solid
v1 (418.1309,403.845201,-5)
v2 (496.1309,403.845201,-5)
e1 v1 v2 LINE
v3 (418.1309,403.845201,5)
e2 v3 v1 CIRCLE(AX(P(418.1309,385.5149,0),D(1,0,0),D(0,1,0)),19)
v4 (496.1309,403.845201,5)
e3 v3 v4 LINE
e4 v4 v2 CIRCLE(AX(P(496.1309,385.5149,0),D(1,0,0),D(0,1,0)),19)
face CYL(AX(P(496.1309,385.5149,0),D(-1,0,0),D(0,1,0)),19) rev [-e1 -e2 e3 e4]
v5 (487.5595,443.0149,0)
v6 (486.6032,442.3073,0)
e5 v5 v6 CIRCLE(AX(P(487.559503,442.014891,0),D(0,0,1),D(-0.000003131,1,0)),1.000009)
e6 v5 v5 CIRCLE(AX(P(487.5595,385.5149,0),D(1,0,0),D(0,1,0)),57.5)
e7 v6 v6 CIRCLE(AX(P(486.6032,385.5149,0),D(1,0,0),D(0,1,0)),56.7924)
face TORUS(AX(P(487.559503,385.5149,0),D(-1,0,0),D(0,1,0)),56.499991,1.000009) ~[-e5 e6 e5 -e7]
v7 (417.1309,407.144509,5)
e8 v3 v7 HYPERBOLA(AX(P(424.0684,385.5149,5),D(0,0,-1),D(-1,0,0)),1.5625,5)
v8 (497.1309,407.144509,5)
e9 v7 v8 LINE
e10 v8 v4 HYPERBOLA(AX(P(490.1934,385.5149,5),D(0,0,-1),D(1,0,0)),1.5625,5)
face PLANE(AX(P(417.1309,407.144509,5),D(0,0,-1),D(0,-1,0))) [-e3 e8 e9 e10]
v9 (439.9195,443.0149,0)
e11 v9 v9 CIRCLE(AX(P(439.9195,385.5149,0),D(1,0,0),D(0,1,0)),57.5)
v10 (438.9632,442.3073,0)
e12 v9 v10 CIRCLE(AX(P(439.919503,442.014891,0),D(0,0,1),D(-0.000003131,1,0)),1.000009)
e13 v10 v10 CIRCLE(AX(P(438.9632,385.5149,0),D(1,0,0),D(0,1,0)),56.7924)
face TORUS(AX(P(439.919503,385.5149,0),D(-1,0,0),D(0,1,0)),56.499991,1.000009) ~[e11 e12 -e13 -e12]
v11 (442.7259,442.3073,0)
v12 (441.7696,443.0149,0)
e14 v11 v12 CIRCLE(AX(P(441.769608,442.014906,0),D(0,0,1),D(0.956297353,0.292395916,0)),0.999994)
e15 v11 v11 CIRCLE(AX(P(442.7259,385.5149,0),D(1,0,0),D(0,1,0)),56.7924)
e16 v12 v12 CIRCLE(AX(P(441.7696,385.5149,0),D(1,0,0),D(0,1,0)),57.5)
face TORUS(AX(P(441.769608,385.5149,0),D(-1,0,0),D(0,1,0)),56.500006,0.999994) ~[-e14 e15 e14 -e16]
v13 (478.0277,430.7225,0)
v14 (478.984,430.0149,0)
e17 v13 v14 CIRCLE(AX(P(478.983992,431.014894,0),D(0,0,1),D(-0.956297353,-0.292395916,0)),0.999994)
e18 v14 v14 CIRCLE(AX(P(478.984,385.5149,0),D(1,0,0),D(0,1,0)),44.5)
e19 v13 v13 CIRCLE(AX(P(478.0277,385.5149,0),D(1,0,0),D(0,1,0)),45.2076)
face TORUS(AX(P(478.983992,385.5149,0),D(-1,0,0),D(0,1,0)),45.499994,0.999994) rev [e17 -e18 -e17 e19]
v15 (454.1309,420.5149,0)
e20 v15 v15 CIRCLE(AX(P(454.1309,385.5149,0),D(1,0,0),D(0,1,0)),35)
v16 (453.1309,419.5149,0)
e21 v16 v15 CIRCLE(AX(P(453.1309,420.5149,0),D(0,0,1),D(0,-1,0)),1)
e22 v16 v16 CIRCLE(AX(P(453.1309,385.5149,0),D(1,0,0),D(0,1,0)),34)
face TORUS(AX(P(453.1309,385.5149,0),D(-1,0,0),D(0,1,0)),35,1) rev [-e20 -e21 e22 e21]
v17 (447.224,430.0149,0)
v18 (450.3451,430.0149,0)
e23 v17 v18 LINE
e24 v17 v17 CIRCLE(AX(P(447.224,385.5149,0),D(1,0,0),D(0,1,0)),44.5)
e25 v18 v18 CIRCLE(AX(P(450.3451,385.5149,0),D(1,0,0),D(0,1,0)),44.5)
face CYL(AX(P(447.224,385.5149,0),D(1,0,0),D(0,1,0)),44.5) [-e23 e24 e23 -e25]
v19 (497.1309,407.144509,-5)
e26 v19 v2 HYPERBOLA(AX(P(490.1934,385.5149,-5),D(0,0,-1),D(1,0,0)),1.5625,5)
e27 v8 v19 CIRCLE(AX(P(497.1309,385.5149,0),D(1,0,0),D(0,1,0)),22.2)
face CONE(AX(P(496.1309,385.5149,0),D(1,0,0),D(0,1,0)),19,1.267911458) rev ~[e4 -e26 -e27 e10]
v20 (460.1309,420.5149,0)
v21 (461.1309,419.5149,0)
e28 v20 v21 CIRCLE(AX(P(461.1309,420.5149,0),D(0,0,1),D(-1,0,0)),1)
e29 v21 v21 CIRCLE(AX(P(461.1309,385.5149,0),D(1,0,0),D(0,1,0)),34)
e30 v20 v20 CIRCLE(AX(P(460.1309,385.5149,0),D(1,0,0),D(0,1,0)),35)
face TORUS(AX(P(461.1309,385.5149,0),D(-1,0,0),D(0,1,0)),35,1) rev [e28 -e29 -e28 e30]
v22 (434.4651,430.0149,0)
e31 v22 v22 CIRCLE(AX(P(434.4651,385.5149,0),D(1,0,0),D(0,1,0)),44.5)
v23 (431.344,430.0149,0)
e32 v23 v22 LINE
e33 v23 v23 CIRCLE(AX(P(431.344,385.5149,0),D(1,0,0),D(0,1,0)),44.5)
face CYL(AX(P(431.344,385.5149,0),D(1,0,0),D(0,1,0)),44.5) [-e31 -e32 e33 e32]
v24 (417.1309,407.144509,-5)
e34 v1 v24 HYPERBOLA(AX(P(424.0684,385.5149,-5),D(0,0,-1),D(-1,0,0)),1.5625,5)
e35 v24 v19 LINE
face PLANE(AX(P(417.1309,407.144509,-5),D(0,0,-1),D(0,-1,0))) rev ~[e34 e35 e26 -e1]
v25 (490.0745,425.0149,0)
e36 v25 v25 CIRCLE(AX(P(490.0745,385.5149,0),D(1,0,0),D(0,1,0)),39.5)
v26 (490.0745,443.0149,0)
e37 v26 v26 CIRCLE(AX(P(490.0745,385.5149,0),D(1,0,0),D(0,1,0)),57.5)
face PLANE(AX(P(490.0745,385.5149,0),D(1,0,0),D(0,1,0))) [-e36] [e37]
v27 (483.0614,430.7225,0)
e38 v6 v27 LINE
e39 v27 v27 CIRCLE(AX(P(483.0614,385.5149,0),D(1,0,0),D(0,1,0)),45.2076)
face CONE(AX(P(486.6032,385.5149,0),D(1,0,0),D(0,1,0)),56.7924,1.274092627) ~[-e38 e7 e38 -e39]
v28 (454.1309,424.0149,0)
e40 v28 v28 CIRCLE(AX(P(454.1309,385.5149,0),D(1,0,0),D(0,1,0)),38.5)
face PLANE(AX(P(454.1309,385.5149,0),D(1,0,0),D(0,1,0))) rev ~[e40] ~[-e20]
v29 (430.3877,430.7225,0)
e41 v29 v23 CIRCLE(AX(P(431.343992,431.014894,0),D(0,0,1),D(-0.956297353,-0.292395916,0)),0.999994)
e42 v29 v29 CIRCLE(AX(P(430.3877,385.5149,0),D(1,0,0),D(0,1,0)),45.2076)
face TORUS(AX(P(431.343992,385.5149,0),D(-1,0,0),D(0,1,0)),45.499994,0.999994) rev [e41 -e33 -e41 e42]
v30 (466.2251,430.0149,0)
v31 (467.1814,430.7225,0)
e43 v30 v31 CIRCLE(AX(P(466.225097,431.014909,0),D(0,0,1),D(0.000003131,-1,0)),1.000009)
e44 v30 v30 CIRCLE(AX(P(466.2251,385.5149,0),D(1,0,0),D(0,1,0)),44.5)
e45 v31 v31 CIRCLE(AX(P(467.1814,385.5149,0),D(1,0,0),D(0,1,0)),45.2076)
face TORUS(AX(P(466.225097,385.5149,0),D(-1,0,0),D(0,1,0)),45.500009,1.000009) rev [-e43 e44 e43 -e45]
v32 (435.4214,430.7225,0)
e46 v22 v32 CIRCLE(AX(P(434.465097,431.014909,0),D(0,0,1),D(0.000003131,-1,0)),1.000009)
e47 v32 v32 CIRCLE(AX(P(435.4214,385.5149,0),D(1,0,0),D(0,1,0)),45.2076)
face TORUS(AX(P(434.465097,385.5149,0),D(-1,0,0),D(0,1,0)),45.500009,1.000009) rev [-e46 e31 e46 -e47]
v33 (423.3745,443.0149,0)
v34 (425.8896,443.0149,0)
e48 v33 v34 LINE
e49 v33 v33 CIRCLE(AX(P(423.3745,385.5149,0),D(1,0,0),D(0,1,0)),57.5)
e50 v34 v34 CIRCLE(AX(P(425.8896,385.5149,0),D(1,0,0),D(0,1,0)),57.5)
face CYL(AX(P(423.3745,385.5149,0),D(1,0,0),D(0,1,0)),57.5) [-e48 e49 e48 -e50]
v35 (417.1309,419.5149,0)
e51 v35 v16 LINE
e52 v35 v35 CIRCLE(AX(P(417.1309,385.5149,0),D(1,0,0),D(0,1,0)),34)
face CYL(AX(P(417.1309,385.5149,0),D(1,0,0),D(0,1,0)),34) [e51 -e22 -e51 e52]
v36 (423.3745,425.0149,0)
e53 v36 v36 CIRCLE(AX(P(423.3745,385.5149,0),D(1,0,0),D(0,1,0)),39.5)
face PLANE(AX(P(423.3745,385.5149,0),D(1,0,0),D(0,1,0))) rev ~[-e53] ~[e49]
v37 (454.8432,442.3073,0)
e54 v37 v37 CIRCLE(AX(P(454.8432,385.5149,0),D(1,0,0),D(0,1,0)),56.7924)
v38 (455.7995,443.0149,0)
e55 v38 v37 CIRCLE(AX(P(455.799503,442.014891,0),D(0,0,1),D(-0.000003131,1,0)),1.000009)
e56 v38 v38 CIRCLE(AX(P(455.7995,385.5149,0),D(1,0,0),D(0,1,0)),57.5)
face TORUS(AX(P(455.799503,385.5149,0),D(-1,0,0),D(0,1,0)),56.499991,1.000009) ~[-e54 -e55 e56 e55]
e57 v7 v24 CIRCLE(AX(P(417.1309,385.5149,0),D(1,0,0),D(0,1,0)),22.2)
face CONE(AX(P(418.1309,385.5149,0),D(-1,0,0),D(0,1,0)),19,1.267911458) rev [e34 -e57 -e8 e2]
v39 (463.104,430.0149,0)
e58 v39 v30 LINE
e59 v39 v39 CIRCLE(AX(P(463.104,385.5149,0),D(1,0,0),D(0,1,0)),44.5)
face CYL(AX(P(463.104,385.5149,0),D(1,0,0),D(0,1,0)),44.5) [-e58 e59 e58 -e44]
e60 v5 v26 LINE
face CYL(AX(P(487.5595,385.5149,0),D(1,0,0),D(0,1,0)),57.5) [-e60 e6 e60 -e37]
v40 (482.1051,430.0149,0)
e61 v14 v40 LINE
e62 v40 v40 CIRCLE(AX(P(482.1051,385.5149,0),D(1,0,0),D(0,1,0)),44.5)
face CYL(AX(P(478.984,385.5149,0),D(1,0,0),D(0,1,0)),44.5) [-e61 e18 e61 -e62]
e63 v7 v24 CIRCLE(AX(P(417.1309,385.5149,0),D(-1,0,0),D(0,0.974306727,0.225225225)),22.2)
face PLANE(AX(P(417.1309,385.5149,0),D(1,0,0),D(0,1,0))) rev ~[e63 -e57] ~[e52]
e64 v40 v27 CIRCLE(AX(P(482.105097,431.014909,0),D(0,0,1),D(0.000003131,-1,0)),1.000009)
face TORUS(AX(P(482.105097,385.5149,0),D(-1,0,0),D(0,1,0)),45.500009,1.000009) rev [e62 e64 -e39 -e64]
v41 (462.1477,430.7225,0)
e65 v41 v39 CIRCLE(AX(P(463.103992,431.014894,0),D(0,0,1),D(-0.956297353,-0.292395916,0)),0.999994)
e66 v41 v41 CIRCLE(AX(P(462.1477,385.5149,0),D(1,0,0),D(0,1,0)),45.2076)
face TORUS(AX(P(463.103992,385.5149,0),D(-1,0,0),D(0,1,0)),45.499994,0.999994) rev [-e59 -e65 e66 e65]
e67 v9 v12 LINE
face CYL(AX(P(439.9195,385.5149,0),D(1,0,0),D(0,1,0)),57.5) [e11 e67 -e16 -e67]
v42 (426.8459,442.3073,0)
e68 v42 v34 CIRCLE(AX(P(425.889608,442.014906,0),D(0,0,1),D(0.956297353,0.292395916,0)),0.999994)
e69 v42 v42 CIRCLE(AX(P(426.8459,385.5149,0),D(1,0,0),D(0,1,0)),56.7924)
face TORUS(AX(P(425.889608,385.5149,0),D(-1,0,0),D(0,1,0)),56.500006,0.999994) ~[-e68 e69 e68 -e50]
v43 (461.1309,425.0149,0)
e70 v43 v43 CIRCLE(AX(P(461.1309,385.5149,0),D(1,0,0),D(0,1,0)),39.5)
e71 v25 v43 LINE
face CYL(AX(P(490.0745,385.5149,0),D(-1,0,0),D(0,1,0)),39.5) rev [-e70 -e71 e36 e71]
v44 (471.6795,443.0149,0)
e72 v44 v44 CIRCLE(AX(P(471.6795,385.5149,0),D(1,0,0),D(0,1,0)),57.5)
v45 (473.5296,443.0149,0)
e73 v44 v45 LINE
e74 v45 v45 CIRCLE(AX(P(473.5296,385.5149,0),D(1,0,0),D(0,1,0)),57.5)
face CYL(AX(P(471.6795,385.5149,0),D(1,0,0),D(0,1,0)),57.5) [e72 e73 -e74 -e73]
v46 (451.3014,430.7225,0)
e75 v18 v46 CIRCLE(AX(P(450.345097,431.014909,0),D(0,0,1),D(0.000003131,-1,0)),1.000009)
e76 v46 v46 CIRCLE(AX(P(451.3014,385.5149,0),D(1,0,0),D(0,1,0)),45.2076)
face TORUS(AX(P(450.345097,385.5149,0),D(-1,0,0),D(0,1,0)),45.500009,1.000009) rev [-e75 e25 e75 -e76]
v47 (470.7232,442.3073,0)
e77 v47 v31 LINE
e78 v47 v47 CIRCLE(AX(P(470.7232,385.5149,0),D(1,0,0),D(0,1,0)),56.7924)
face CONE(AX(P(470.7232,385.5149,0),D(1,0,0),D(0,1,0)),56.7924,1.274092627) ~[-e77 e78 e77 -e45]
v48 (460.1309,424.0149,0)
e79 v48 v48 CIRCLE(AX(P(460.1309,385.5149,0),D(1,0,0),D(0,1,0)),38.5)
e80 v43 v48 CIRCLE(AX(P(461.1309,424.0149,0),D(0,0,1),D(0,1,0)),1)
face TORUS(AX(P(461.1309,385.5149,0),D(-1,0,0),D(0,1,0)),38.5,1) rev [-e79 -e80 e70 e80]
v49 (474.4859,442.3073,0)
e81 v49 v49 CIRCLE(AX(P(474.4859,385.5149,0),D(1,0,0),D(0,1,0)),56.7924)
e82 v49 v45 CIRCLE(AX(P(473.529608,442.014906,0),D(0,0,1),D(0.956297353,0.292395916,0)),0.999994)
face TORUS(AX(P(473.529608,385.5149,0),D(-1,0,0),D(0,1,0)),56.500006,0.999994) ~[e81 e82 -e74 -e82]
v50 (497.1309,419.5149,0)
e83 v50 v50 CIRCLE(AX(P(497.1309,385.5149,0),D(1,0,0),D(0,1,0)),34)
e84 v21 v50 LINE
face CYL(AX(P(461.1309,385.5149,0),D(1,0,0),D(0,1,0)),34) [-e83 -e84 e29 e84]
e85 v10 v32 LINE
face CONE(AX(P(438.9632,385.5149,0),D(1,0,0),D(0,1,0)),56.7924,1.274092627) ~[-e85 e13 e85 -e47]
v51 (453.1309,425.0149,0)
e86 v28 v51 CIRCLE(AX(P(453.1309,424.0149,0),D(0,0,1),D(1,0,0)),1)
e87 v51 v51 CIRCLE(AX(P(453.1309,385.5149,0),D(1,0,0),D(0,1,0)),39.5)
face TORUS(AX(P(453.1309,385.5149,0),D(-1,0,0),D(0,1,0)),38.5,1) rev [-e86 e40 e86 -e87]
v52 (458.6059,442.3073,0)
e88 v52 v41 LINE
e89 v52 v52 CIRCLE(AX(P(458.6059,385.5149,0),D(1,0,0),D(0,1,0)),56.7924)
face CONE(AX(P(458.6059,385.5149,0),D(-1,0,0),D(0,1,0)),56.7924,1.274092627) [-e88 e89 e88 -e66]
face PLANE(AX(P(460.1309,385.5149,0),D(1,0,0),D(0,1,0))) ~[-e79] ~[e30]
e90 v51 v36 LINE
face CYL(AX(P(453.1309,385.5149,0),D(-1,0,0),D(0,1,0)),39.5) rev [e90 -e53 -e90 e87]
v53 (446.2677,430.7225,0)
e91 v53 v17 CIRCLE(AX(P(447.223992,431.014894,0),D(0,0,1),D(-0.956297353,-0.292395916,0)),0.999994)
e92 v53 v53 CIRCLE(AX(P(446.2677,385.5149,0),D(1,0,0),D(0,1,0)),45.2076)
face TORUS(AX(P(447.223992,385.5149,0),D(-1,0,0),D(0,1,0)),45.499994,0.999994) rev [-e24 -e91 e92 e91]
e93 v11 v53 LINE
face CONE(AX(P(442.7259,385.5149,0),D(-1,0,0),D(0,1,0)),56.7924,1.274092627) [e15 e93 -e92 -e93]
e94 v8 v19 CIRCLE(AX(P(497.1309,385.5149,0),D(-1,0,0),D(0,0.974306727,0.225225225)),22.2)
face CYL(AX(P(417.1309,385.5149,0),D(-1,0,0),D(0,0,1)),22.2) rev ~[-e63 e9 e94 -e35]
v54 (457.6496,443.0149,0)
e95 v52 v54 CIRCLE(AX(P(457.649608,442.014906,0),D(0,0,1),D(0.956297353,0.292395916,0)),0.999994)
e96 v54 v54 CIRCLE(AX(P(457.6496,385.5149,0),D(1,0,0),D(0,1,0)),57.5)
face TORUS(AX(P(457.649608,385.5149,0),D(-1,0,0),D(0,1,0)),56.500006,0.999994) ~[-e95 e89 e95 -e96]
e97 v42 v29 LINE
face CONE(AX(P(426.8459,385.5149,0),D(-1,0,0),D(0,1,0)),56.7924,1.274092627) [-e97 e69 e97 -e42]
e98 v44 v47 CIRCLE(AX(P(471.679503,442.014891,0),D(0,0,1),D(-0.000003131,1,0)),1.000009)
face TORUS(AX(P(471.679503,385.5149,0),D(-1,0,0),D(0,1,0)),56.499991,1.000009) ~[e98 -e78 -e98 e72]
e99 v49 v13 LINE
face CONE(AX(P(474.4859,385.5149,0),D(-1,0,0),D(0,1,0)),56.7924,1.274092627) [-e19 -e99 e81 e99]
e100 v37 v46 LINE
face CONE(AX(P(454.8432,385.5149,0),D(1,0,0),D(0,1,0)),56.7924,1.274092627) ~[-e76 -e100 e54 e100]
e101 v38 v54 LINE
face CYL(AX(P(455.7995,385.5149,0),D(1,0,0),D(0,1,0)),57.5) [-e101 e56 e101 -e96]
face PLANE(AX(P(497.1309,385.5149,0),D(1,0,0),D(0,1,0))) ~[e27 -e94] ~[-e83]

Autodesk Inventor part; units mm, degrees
ref_plane "YZ Plane" through (0, 0, 0) normal (1, 0, 0) x (0, 1, 0)
ref_plane "XZ Plane" through (0, 0, 0) normal (0, 1, 0) x (-1, 0, 0)
ref_plane "XY Plane" through (0, 0, 0) normal (0, 0, 1) x (1, 0, 0)
sketch "Sketch1" plane through (0, 0, 0) normal (0, 0, 1) x (1, 0, 0)
  arc A0 (466.2251, 430.0149) -> (467.1814, 430.7225) centre (466.2251, 431.0149) ccw
  arc A1 (466.2251, 430.0149) -> (467.1814, 430.7225) centre (466.2251, 431.0149) ccw
  arc A2 (478.0277, 430.7225) -> (478.984, 430.0149) centre (478.984, 431.0149) ccw
  arc A3 (478.0277, 430.7225) -> (478.984, 430.0149) centre (478.984, 431.0149) ccw
  line L0 (478.984, 430.0149) -> (482.1051, 430.0149)
  line L1 (478.984, 430.0149) -> (482.1051, 430.0149)
  line L2 (463.104, 430.0149) -> (466.2251, 430.0149)
  line L3 (463.104, 430.0149) -> (466.2251, 430.0149)
  arc A4 (482.1051, 430.0149) -> (483.0614, 430.7225) centre (482.1051, 431.0149) ccw
  arc A5 (482.1051, 430.0149) -> (483.0614, 430.7225) centre (482.1051, 431.0149) ccw
  arc A6 (462.1477, 430.7225) -> (463.104, 430.0149) centre (463.104, 431.0149) ccw
  arc A7 (462.1477, 430.7225) -> (463.104, 430.0149) centre (463.104, 431.0149) ccw
  line L4 (490.0745, 430.0149) -> (490.0745, 425.0149)
  line L5 (490.0745, 425.0149) -> (461.1309, 425.0149)
  line L6 (490.0745, 443.0149) -> (490.0745, 430.0149)
  line L7 (487.5595, 443.0149) -> (490.0745, 443.0149)
  line L8 (487.5595, 443.0149) -> (490.0745, 443.0149)
  line L9 (486.6032, 442.3073) -> (483.0614, 430.7225)
  line L10 (486.6032, 442.3073) -> (483.0614, 430.7225)
  line L11 (474.4859, 442.3073) -> (478.0277, 430.7225)
  line L12 (474.4859, 442.3073) -> (478.0277, 430.7225)
  line L13 (470.7232, 442.3073) -> (467.1814, 430.7225)
  line L14 (470.7232, 442.3073) -> (467.1814, 430.7225)
  arc A8 (471.6795, 443.0149) -> (470.7232, 442.3073) centre (471.6795, 442.0149) ccw
  arc A9 (471.6795, 443.0149) -> (470.7232, 442.3073) centre (471.6795, 442.0149) ccw
  line L15 (471.6795, 443.0149) -> (473.5296, 443.0149)
  line L16 (471.6795, 443.0149) -> (473.5296, 443.0149)
  arc A10 (474.4859, 442.3073) -> (473.5296, 443.0149) centre (473.5296, 442.0149) ccw
  arc A11 (474.4859, 442.3073) -> (473.5296, 443.0149) centre (473.5296, 442.0149) ccw
  arc A12 (453.1309, 419.5149) -> (454.1309, 420.5149) centre (453.1309, 420.5149) ccw
  arc A13 (460.1309, 420.5149) -> (461.1309, 419.5149) centre (461.1309, 420.5149) ccw
  line L17 (454.1309, 424.0149) -> (454.1309, 420.5149)
  arc A14 (461.1309, 425.0149) -> (460.1309, 424.0149) centre (461.1309, 424.0149) ccw
  arc A15 (454.1309, 424.0149) -> (453.1309, 425.0149) centre (453.1309, 424.0149) ccw
  line L18 (418.1309, 404.5149) -> (417.1309, 407.7149)
  line L19 (417.1309, 419.5149) -> (453.1309, 419.5149)
  line L20 (453.1309, 425.0149) -> (423.3745, 425.0149)
  arc A16 (434.4651, 430.0149) -> (435.4214, 430.7225) centre (434.4651, 431.0149) ccw
  arc A17 (434.4651, 430.0149) -> (435.4214, 430.7225) centre (434.4651, 431.0149) ccw
  arc A18 (430.3877, 430.7225) -> (431.344, 430.0149) centre (431.344, 431.0149) ccw
  arc A19 (430.3877, 430.7225) -> (431.344, 430.0149) centre (431.344, 431.0149) ccw
  line L21 (460.1309, 420.5149) -> (460.1309, 424.0149)
  line L22 (490.0745, 341.0149) -> (490.0745, 346.0149)
  line L23 (490.0745, 328.0149) -> (490.0745, 341.0149)
  arc A20 (483.0614, 340.3073) -> (482.1051, 341.0149) centre (482.1051, 340.0149) ccw
  arc A21 (483.0614, 340.3073) -> (482.1051, 341.0149) centre (482.1051, 340.0149) ccw
  line L24 (487.5595, 328.0149) -> (490.0745, 328.0149)
  line L25 (487.5595, 328.0149) -> (490.0745, 328.0149)
  arc A22 (486.6032, 328.7225) -> (487.5595, 328.0149) centre (487.5595, 329.0149) ccw
  arc A23 (486.6032, 328.7225) -> (487.5595, 328.0149) centre (487.5595, 329.0149) ccw
  line L26 (478.984, 341.0149) -> (482.1051, 341.0149)
  line L27 (478.984, 341.0149) -> (482.1051, 341.0149)
  arc A24 (478.984, 341.0149) -> (478.0277, 340.3073) centre (478.984, 340.0149) ccw
  arc A25 (478.984, 341.0149) -> (478.0277, 340.3073) centre (478.984, 340.0149) ccw
  line L28 (486.6032, 328.7225) -> (483.0614, 340.3073)
  line L29 (486.6032, 328.7225) -> (483.0614, 340.3073)
  line L30 (474.4859, 328.7225) -> (478.0277, 340.3073)
  line L31 (474.4859, 328.7225) -> (478.0277, 340.3073)
  arc A26 (473.5296, 328.0149) -> (474.4859, 328.7225) centre (473.5296, 329.0149) ccw
  arc A27 (473.5296, 328.0149) -> (474.4859, 328.7225) centre (473.5296, 329.0149) ccw
  line L32 (471.6795, 328.0149) -> (473.5296, 328.0149)
  line L33 (471.6795, 328.0149) -> (473.5296, 328.0149)
  arc A28 (470.7232, 328.7225) -> (471.6795, 328.0149) centre (471.6795, 329.0149) ccw
  arc A29 (470.7232, 328.7225) -> (471.6795, 328.0149) centre (471.6795, 329.0149) ccw
  line L34 (490.0745, 346.0149) -> (461.1309, 346.0149)
  line L35 (460.1309, 350.5149) -> (460.1309, 347.0149)
  arc A30 (460.1309, 347.0149) -> (461.1309, 346.0149) centre (461.1309, 347.0149) ccw
  line L36 (461.1309, 351.5149) -> (497.1309, 351.5149)
  arc A31 (453.1309, 346.0149) -> (454.1309, 347.0149) centre (453.1309, 347.0149) ccw
  arc A32 (438.9632, 328.7225) -> (439.9195, 328.0149) centre (439.9195, 329.0149) ccw
  arc A33 (438.9632, 328.7225) -> (439.9195, 328.0149) centre (439.9195, 329.0149) ccw
  line L37 (439.9195, 328.0149) -> (441.7696, 328.0149)
  line L38 (439.9195, 328.0149) -> (441.7696, 328.0149)
  arc A34 (441.7696, 328.0149) -> (442.7259, 328.7225) centre (441.7696, 329.0149) ccw
  arc A35 (441.7696, 328.0149) -> (442.7259, 328.7225) centre (441.7696, 329.0149) ccw
  line L39 (442.7259, 328.7225) -> (446.2677, 340.3073)
  arc A36 (447.224, 341.0149) -> (446.2677, 340.3073) centre (447.224, 340.0149) ccw
  arc A37 (447.224, 341.0149) -> (446.2677, 340.3073) centre (447.224, 340.0149) ccw
  line L40 (447.224, 341.0149) -> (450.3451, 341.0149)
  line L41 (447.224, 341.0149) -> (450.3451, 341.0149)
  arc A38 (451.3014, 340.3073) -> (450.3451, 341.0149) centre (450.3451, 340.0149) ccw
  arc A39 (451.3014, 340.3073) -> (450.3451, 341.0149) centre (450.3451, 340.0149) ccw
  line L42 (454.1309, 347.0149) -> (454.1309, 350.5149)
  line L43 (454.8432, 328.7225) -> (451.3014, 340.3073)
  line L44 (454.8432, 328.7225) -> (451.3014, 340.3073)
  line L45 (442.7259, 328.7225) -> (446.2677, 340.3073)
  line L46 (453.1309, 346.0149) -> (423.3745, 346.0149)
  line L47 (438.9632, 328.7225) -> (435.4214, 340.3073)
  line L48 (438.9632, 328.7225) -> (435.4214, 340.3073)
  arc A40 (435.4214, 340.3073) -> (434.4651, 341.0149) centre (434.4651, 340.0149) ccw
  line L49 (431.344, 341.0149) -> (434.4651, 341.0149)
  line L50 (431.344, 341.0149) -> (434.4651, 341.0149)
  arc A41 (431.344, 341.0149) -> (430.3877, 340.3073) centre (431.344, 340.0149) ccw
  arc A42 (431.344, 341.0149) -> (430.3877, 340.3073) centre (431.344, 340.0149) ccw
  line L51 (426.8459, 328.7225) -> (430.3877, 340.3073)
  line L52 (426.8459, 328.7225) -> (430.3877, 340.3073)
  arc A43 (425.8896, 328.0149) -> (426.8459, 328.7225) centre (425.8896, 329.0149) ccw
  arc A44 (425.8896, 328.0149) -> (426.8459, 328.7225) centre (425.8896, 329.0149) ccw
  line L53 (423.3745, 328.0149) -> (425.8896, 328.0149)
  line L54 (423.3745, 328.0149) -> (425.8896, 328.0149)
  line L55 (423.3745, 328.0149) -> (423.3745, 346.0149)
  arc A45 (435.4214, 340.3073) -> (434.4651, 341.0149) centre (434.4651, 340.0149) ccw
  line L56 (418.1309, 404.5149) -> (418.1309, 366.5149)
  line L57 (418.1309, 366.5149) -> (417.1309, 365.5149)
  line L58 (496.1309, 404.5149) -> (418.1309, 404.5149)
  line L59 (497.1309, 407.7149) -> (417.1309, 407.7149)
  line L60 (417.1309, 419.5149) -> (417.1309, 351.5149)
  line L61 (417.1309, 351.5149) -> (453.1309, 351.5149)
  line L62 (418.1309, 366.5149) -> (496.1309, 366.5149)
  line L63 (461.1309, 419.5149) -> (497.1309, 419.5149)
  line L64 (496.1309, 404.5149) -> (497.1309, 407.7149)
  arc A46 (454.1309, 350.5149) -> (453.1309, 351.5149) centre (453.1309, 350.5149) ccw
  line L65 (496.1309, 366.5149) -> (496.1309, 404.5149)
  line L66 (497.1309, 366.5149) -> (497.1309, 404.5149)
  line L67 (497.1309, 351.5149) -> (497.1309, 419.5149)
  line L68 (496.1309, 366.5149) -> (497.1309, 365.5149)
  arc A47 (461.1309, 351.5149) -> (460.1309, 350.5149) centre (461.1309, 350.5149) ccw
  arc A48 (454.8432, 328.7225) -> (455.7995, 328.0149) centre (455.7995, 329.0149) ccw
  arc A49 (454.8432, 328.7225) -> (455.7995, 328.0149) centre (455.7995, 329.0149) ccw
  line L69 (455.7995, 328.0149) -> (457.6496, 328.0149)
  line L70 (455.7995, 328.0149) -> (457.6496, 328.0149)
  arc A50 (457.6496, 328.0149) -> (458.6059, 328.7225) centre (457.6496, 329.0149) ccw
  arc A51 (457.6496, 328.0149) -> (458.6059, 328.7225) centre (457.6496, 329.0149) ccw
  arc A52 (487.5595, 443.0149) -> (486.6032, 442.3073) centre (487.5595, 442.0149) ccw
  arc A53 (487.5595, 443.0149) -> (486.6032, 442.3073) centre (487.5595, 442.0149) ccw
  line L71 (442.7259, 442.3073) -> (446.2677, 430.7225)
  line L72 (454.8432, 442.3073) -> (451.3014, 430.7225)
  line L73 (458.6059, 442.3073) -> (462.1477, 430.7225)
  arc A54 (458.6059, 442.3073) -> (457.6496, 443.0149) centre (457.6496, 442.0149) ccw
  arc A55 (455.7995, 443.0149) -> (454.8432, 442.3073) centre (455.7995, 442.0149) ccw
  line L74 (455.7995, 443.0149) -> (457.6496, 443.0149)
  arc A56 (442.7259, 442.3073) -> (441.7696, 443.0149) centre (441.7696, 442.0149) ccw
  line L75 (439.9195, 443.0149) -> (441.7696, 443.0149)
  line L76 (458.6059, 442.3073) -> (462.1477, 430.7225)
  arc A57 (458.6059, 442.3073) -> (457.6496, 443.0149) centre (457.6496, 442.0149) ccw
  arc A58 (455.7995, 443.0149) -> (454.8432, 442.3073) centre (455.7995, 442.0149) ccw
  line L77 (454.8432, 442.3073) -> (451.3014, 430.7225)
  arc A59 (450.3451, 430.0149) -> (451.3014, 430.7225) centre (450.3451, 431.0149) ccw
  arc A60 (450.3451, 430.0149) -> (451.3014, 430.7225) centre (450.3451, 431.0149) ccw
  line L78 (447.224, 430.0149) -> (450.3451, 430.0149)
  line L79 (447.224, 430.0149) -> (450.3451, 430.0149)
  arc A61 (446.2677, 430.7225) -> (447.224, 430.0149) centre (447.224, 431.0149) ccw
  arc A62 (446.2677, 430.7225) -> (447.224, 430.0149) centre (447.224, 431.0149) ccw
  line L80 (442.7259, 442.3073) -> (446.2677, 430.7225)
  arc A63 (442.7259, 442.3073) -> (441.7696, 443.0149) centre (441.7696, 442.0149) ccw
  line L81 (439.9195, 443.0149) -> (441.7696, 443.0149)
  line L82 (455.7995, 443.0149) -> (457.6496, 443.0149)
  line L83 (423.3745, 443.0149) -> (423.3745, 425.0149)
  line L84 (426.8459, 442.3073) -> (430.3877, 430.7225)
  arc A64 (439.9195, 443.0149) -> (438.9632, 442.3073) centre (439.9195, 442.0149) ccw
  line L85 (438.9632, 442.3073) -> (435.4214, 430.7225)
  arc A65 (426.8459, 442.3073) -> (425.8896, 443.0149) centre (425.8896, 442.0149) ccw
  line L86 (423.3745, 443.0149) -> (425.8896, 443.0149)
  line L87 (431.344, 430.0149) -> (434.4651, 430.0149)
  line L88 (426.8459, 442.3073) -> (430.3877, 430.7225)
  arc A66 (439.9195, 443.0149) -> (438.9632, 442.3073) centre (439.9195, 442.0149) ccw
  line L89 (438.9632, 442.3073) -> (435.4214, 430.7225)
  line L90 (423.3745, 443.0149) -> (425.8896, 443.0149)
  arc A67 (426.8459, 442.3073) -> (425.8896, 443.0149) centre (425.8896, 442.0149) ccw
  line L91 (431.344, 430.0149) -> (434.4651, 430.0149)
  line L92 (458.6059, 328.7225) -> (462.1477, 340.3073)
  line L93 (470.7232, 328.7225) -> (467.1814, 340.3073)
  arc A68 (467.1814, 340.3073) -> (466.2251, 341.0149) centre (466.2251, 340.0149) ccw
  arc A69 (467.1814, 340.3073) -> (466.2251, 341.0149) centre (466.2251, 340.0149) ccw
  line L94 (463.104, 341.0149) -> (466.2251, 341.0149)
  line L95 (463.104, 341.0149) -> (466.2251, 341.0149)
  arc A70 (463.104, 341.0149) -> (462.1477, 340.3073) centre (463.104, 340.0149) ccw
  arc A71 (463.104, 341.0149) -> (462.1477, 340.3073) centre (463.104, 340.0149) ccw
  line L96 (458.6059, 328.7225) -> (462.1477, 340.3073)
  line L97 (470.7232, 328.7225) -> (467.1814, 340.3073)
  line L98 (416.3181, 385.5149) -> (497.1309, 385.5149)
  point P0 (0, 0)
  dimension "d1" = 1
  dimension "d3" = 38
  dimension "d5" = 68
  dimension "d7" = 1
  dimension "d9" = 34
  dimension "d11" = 13
revolve "Revolution1" add sketch "Sketch1" angle 360 about axis through (416.3181, 385.5149, 0) along (1, 0, 0) contours A0 L13 A8 L15 A10 L11 A2 L0 A4 L9 A52 L7 L6 L4 L5 A14 L21 A13 L63 L67 L59 L60 L19 A12 L17 A15 L20 L83 L86 A65 L84 A18 L87 A16 L85 A64 L75 A56 L71 A61 L78 A59 L72 A55 L74 A54 L73 A6 L2 | L64 L58 L18 L59
sketch "Sketch2" plane through (417.1309, 385.5149, 0) normal (-1, 0, 0) x (0, 0, 1)
  circle A0 centre (0, 0) radius 19 projected
  line L0 (0, 19) -> (0, 22.2)
  line L1 (0, 22.2) -> (5, 22.2)
  circle A1 centre (0, 0) radius 22.2 projected
  line L2 (5, 22.2) -> (5, 18.3303)
  line L3 (0, 22.2) -> (-5, 22.2)
  line L4 (-5, 22.2) -> (-5, 18.3303)
  point P0 (0, -385.5149)
  point P1 (5, 21.6296)
  point P2 (-5, 21.6296)
  dimension "d13" = 3.2
  dimension "d14" = 5
extrude "Extrusion1" cut sketch "Sketch2" against normal through all contours A0 L0 A1 L2 | L4 A1 L0 A0
properties part number "Polia Motora 3D" material "Steel, Carbon"
